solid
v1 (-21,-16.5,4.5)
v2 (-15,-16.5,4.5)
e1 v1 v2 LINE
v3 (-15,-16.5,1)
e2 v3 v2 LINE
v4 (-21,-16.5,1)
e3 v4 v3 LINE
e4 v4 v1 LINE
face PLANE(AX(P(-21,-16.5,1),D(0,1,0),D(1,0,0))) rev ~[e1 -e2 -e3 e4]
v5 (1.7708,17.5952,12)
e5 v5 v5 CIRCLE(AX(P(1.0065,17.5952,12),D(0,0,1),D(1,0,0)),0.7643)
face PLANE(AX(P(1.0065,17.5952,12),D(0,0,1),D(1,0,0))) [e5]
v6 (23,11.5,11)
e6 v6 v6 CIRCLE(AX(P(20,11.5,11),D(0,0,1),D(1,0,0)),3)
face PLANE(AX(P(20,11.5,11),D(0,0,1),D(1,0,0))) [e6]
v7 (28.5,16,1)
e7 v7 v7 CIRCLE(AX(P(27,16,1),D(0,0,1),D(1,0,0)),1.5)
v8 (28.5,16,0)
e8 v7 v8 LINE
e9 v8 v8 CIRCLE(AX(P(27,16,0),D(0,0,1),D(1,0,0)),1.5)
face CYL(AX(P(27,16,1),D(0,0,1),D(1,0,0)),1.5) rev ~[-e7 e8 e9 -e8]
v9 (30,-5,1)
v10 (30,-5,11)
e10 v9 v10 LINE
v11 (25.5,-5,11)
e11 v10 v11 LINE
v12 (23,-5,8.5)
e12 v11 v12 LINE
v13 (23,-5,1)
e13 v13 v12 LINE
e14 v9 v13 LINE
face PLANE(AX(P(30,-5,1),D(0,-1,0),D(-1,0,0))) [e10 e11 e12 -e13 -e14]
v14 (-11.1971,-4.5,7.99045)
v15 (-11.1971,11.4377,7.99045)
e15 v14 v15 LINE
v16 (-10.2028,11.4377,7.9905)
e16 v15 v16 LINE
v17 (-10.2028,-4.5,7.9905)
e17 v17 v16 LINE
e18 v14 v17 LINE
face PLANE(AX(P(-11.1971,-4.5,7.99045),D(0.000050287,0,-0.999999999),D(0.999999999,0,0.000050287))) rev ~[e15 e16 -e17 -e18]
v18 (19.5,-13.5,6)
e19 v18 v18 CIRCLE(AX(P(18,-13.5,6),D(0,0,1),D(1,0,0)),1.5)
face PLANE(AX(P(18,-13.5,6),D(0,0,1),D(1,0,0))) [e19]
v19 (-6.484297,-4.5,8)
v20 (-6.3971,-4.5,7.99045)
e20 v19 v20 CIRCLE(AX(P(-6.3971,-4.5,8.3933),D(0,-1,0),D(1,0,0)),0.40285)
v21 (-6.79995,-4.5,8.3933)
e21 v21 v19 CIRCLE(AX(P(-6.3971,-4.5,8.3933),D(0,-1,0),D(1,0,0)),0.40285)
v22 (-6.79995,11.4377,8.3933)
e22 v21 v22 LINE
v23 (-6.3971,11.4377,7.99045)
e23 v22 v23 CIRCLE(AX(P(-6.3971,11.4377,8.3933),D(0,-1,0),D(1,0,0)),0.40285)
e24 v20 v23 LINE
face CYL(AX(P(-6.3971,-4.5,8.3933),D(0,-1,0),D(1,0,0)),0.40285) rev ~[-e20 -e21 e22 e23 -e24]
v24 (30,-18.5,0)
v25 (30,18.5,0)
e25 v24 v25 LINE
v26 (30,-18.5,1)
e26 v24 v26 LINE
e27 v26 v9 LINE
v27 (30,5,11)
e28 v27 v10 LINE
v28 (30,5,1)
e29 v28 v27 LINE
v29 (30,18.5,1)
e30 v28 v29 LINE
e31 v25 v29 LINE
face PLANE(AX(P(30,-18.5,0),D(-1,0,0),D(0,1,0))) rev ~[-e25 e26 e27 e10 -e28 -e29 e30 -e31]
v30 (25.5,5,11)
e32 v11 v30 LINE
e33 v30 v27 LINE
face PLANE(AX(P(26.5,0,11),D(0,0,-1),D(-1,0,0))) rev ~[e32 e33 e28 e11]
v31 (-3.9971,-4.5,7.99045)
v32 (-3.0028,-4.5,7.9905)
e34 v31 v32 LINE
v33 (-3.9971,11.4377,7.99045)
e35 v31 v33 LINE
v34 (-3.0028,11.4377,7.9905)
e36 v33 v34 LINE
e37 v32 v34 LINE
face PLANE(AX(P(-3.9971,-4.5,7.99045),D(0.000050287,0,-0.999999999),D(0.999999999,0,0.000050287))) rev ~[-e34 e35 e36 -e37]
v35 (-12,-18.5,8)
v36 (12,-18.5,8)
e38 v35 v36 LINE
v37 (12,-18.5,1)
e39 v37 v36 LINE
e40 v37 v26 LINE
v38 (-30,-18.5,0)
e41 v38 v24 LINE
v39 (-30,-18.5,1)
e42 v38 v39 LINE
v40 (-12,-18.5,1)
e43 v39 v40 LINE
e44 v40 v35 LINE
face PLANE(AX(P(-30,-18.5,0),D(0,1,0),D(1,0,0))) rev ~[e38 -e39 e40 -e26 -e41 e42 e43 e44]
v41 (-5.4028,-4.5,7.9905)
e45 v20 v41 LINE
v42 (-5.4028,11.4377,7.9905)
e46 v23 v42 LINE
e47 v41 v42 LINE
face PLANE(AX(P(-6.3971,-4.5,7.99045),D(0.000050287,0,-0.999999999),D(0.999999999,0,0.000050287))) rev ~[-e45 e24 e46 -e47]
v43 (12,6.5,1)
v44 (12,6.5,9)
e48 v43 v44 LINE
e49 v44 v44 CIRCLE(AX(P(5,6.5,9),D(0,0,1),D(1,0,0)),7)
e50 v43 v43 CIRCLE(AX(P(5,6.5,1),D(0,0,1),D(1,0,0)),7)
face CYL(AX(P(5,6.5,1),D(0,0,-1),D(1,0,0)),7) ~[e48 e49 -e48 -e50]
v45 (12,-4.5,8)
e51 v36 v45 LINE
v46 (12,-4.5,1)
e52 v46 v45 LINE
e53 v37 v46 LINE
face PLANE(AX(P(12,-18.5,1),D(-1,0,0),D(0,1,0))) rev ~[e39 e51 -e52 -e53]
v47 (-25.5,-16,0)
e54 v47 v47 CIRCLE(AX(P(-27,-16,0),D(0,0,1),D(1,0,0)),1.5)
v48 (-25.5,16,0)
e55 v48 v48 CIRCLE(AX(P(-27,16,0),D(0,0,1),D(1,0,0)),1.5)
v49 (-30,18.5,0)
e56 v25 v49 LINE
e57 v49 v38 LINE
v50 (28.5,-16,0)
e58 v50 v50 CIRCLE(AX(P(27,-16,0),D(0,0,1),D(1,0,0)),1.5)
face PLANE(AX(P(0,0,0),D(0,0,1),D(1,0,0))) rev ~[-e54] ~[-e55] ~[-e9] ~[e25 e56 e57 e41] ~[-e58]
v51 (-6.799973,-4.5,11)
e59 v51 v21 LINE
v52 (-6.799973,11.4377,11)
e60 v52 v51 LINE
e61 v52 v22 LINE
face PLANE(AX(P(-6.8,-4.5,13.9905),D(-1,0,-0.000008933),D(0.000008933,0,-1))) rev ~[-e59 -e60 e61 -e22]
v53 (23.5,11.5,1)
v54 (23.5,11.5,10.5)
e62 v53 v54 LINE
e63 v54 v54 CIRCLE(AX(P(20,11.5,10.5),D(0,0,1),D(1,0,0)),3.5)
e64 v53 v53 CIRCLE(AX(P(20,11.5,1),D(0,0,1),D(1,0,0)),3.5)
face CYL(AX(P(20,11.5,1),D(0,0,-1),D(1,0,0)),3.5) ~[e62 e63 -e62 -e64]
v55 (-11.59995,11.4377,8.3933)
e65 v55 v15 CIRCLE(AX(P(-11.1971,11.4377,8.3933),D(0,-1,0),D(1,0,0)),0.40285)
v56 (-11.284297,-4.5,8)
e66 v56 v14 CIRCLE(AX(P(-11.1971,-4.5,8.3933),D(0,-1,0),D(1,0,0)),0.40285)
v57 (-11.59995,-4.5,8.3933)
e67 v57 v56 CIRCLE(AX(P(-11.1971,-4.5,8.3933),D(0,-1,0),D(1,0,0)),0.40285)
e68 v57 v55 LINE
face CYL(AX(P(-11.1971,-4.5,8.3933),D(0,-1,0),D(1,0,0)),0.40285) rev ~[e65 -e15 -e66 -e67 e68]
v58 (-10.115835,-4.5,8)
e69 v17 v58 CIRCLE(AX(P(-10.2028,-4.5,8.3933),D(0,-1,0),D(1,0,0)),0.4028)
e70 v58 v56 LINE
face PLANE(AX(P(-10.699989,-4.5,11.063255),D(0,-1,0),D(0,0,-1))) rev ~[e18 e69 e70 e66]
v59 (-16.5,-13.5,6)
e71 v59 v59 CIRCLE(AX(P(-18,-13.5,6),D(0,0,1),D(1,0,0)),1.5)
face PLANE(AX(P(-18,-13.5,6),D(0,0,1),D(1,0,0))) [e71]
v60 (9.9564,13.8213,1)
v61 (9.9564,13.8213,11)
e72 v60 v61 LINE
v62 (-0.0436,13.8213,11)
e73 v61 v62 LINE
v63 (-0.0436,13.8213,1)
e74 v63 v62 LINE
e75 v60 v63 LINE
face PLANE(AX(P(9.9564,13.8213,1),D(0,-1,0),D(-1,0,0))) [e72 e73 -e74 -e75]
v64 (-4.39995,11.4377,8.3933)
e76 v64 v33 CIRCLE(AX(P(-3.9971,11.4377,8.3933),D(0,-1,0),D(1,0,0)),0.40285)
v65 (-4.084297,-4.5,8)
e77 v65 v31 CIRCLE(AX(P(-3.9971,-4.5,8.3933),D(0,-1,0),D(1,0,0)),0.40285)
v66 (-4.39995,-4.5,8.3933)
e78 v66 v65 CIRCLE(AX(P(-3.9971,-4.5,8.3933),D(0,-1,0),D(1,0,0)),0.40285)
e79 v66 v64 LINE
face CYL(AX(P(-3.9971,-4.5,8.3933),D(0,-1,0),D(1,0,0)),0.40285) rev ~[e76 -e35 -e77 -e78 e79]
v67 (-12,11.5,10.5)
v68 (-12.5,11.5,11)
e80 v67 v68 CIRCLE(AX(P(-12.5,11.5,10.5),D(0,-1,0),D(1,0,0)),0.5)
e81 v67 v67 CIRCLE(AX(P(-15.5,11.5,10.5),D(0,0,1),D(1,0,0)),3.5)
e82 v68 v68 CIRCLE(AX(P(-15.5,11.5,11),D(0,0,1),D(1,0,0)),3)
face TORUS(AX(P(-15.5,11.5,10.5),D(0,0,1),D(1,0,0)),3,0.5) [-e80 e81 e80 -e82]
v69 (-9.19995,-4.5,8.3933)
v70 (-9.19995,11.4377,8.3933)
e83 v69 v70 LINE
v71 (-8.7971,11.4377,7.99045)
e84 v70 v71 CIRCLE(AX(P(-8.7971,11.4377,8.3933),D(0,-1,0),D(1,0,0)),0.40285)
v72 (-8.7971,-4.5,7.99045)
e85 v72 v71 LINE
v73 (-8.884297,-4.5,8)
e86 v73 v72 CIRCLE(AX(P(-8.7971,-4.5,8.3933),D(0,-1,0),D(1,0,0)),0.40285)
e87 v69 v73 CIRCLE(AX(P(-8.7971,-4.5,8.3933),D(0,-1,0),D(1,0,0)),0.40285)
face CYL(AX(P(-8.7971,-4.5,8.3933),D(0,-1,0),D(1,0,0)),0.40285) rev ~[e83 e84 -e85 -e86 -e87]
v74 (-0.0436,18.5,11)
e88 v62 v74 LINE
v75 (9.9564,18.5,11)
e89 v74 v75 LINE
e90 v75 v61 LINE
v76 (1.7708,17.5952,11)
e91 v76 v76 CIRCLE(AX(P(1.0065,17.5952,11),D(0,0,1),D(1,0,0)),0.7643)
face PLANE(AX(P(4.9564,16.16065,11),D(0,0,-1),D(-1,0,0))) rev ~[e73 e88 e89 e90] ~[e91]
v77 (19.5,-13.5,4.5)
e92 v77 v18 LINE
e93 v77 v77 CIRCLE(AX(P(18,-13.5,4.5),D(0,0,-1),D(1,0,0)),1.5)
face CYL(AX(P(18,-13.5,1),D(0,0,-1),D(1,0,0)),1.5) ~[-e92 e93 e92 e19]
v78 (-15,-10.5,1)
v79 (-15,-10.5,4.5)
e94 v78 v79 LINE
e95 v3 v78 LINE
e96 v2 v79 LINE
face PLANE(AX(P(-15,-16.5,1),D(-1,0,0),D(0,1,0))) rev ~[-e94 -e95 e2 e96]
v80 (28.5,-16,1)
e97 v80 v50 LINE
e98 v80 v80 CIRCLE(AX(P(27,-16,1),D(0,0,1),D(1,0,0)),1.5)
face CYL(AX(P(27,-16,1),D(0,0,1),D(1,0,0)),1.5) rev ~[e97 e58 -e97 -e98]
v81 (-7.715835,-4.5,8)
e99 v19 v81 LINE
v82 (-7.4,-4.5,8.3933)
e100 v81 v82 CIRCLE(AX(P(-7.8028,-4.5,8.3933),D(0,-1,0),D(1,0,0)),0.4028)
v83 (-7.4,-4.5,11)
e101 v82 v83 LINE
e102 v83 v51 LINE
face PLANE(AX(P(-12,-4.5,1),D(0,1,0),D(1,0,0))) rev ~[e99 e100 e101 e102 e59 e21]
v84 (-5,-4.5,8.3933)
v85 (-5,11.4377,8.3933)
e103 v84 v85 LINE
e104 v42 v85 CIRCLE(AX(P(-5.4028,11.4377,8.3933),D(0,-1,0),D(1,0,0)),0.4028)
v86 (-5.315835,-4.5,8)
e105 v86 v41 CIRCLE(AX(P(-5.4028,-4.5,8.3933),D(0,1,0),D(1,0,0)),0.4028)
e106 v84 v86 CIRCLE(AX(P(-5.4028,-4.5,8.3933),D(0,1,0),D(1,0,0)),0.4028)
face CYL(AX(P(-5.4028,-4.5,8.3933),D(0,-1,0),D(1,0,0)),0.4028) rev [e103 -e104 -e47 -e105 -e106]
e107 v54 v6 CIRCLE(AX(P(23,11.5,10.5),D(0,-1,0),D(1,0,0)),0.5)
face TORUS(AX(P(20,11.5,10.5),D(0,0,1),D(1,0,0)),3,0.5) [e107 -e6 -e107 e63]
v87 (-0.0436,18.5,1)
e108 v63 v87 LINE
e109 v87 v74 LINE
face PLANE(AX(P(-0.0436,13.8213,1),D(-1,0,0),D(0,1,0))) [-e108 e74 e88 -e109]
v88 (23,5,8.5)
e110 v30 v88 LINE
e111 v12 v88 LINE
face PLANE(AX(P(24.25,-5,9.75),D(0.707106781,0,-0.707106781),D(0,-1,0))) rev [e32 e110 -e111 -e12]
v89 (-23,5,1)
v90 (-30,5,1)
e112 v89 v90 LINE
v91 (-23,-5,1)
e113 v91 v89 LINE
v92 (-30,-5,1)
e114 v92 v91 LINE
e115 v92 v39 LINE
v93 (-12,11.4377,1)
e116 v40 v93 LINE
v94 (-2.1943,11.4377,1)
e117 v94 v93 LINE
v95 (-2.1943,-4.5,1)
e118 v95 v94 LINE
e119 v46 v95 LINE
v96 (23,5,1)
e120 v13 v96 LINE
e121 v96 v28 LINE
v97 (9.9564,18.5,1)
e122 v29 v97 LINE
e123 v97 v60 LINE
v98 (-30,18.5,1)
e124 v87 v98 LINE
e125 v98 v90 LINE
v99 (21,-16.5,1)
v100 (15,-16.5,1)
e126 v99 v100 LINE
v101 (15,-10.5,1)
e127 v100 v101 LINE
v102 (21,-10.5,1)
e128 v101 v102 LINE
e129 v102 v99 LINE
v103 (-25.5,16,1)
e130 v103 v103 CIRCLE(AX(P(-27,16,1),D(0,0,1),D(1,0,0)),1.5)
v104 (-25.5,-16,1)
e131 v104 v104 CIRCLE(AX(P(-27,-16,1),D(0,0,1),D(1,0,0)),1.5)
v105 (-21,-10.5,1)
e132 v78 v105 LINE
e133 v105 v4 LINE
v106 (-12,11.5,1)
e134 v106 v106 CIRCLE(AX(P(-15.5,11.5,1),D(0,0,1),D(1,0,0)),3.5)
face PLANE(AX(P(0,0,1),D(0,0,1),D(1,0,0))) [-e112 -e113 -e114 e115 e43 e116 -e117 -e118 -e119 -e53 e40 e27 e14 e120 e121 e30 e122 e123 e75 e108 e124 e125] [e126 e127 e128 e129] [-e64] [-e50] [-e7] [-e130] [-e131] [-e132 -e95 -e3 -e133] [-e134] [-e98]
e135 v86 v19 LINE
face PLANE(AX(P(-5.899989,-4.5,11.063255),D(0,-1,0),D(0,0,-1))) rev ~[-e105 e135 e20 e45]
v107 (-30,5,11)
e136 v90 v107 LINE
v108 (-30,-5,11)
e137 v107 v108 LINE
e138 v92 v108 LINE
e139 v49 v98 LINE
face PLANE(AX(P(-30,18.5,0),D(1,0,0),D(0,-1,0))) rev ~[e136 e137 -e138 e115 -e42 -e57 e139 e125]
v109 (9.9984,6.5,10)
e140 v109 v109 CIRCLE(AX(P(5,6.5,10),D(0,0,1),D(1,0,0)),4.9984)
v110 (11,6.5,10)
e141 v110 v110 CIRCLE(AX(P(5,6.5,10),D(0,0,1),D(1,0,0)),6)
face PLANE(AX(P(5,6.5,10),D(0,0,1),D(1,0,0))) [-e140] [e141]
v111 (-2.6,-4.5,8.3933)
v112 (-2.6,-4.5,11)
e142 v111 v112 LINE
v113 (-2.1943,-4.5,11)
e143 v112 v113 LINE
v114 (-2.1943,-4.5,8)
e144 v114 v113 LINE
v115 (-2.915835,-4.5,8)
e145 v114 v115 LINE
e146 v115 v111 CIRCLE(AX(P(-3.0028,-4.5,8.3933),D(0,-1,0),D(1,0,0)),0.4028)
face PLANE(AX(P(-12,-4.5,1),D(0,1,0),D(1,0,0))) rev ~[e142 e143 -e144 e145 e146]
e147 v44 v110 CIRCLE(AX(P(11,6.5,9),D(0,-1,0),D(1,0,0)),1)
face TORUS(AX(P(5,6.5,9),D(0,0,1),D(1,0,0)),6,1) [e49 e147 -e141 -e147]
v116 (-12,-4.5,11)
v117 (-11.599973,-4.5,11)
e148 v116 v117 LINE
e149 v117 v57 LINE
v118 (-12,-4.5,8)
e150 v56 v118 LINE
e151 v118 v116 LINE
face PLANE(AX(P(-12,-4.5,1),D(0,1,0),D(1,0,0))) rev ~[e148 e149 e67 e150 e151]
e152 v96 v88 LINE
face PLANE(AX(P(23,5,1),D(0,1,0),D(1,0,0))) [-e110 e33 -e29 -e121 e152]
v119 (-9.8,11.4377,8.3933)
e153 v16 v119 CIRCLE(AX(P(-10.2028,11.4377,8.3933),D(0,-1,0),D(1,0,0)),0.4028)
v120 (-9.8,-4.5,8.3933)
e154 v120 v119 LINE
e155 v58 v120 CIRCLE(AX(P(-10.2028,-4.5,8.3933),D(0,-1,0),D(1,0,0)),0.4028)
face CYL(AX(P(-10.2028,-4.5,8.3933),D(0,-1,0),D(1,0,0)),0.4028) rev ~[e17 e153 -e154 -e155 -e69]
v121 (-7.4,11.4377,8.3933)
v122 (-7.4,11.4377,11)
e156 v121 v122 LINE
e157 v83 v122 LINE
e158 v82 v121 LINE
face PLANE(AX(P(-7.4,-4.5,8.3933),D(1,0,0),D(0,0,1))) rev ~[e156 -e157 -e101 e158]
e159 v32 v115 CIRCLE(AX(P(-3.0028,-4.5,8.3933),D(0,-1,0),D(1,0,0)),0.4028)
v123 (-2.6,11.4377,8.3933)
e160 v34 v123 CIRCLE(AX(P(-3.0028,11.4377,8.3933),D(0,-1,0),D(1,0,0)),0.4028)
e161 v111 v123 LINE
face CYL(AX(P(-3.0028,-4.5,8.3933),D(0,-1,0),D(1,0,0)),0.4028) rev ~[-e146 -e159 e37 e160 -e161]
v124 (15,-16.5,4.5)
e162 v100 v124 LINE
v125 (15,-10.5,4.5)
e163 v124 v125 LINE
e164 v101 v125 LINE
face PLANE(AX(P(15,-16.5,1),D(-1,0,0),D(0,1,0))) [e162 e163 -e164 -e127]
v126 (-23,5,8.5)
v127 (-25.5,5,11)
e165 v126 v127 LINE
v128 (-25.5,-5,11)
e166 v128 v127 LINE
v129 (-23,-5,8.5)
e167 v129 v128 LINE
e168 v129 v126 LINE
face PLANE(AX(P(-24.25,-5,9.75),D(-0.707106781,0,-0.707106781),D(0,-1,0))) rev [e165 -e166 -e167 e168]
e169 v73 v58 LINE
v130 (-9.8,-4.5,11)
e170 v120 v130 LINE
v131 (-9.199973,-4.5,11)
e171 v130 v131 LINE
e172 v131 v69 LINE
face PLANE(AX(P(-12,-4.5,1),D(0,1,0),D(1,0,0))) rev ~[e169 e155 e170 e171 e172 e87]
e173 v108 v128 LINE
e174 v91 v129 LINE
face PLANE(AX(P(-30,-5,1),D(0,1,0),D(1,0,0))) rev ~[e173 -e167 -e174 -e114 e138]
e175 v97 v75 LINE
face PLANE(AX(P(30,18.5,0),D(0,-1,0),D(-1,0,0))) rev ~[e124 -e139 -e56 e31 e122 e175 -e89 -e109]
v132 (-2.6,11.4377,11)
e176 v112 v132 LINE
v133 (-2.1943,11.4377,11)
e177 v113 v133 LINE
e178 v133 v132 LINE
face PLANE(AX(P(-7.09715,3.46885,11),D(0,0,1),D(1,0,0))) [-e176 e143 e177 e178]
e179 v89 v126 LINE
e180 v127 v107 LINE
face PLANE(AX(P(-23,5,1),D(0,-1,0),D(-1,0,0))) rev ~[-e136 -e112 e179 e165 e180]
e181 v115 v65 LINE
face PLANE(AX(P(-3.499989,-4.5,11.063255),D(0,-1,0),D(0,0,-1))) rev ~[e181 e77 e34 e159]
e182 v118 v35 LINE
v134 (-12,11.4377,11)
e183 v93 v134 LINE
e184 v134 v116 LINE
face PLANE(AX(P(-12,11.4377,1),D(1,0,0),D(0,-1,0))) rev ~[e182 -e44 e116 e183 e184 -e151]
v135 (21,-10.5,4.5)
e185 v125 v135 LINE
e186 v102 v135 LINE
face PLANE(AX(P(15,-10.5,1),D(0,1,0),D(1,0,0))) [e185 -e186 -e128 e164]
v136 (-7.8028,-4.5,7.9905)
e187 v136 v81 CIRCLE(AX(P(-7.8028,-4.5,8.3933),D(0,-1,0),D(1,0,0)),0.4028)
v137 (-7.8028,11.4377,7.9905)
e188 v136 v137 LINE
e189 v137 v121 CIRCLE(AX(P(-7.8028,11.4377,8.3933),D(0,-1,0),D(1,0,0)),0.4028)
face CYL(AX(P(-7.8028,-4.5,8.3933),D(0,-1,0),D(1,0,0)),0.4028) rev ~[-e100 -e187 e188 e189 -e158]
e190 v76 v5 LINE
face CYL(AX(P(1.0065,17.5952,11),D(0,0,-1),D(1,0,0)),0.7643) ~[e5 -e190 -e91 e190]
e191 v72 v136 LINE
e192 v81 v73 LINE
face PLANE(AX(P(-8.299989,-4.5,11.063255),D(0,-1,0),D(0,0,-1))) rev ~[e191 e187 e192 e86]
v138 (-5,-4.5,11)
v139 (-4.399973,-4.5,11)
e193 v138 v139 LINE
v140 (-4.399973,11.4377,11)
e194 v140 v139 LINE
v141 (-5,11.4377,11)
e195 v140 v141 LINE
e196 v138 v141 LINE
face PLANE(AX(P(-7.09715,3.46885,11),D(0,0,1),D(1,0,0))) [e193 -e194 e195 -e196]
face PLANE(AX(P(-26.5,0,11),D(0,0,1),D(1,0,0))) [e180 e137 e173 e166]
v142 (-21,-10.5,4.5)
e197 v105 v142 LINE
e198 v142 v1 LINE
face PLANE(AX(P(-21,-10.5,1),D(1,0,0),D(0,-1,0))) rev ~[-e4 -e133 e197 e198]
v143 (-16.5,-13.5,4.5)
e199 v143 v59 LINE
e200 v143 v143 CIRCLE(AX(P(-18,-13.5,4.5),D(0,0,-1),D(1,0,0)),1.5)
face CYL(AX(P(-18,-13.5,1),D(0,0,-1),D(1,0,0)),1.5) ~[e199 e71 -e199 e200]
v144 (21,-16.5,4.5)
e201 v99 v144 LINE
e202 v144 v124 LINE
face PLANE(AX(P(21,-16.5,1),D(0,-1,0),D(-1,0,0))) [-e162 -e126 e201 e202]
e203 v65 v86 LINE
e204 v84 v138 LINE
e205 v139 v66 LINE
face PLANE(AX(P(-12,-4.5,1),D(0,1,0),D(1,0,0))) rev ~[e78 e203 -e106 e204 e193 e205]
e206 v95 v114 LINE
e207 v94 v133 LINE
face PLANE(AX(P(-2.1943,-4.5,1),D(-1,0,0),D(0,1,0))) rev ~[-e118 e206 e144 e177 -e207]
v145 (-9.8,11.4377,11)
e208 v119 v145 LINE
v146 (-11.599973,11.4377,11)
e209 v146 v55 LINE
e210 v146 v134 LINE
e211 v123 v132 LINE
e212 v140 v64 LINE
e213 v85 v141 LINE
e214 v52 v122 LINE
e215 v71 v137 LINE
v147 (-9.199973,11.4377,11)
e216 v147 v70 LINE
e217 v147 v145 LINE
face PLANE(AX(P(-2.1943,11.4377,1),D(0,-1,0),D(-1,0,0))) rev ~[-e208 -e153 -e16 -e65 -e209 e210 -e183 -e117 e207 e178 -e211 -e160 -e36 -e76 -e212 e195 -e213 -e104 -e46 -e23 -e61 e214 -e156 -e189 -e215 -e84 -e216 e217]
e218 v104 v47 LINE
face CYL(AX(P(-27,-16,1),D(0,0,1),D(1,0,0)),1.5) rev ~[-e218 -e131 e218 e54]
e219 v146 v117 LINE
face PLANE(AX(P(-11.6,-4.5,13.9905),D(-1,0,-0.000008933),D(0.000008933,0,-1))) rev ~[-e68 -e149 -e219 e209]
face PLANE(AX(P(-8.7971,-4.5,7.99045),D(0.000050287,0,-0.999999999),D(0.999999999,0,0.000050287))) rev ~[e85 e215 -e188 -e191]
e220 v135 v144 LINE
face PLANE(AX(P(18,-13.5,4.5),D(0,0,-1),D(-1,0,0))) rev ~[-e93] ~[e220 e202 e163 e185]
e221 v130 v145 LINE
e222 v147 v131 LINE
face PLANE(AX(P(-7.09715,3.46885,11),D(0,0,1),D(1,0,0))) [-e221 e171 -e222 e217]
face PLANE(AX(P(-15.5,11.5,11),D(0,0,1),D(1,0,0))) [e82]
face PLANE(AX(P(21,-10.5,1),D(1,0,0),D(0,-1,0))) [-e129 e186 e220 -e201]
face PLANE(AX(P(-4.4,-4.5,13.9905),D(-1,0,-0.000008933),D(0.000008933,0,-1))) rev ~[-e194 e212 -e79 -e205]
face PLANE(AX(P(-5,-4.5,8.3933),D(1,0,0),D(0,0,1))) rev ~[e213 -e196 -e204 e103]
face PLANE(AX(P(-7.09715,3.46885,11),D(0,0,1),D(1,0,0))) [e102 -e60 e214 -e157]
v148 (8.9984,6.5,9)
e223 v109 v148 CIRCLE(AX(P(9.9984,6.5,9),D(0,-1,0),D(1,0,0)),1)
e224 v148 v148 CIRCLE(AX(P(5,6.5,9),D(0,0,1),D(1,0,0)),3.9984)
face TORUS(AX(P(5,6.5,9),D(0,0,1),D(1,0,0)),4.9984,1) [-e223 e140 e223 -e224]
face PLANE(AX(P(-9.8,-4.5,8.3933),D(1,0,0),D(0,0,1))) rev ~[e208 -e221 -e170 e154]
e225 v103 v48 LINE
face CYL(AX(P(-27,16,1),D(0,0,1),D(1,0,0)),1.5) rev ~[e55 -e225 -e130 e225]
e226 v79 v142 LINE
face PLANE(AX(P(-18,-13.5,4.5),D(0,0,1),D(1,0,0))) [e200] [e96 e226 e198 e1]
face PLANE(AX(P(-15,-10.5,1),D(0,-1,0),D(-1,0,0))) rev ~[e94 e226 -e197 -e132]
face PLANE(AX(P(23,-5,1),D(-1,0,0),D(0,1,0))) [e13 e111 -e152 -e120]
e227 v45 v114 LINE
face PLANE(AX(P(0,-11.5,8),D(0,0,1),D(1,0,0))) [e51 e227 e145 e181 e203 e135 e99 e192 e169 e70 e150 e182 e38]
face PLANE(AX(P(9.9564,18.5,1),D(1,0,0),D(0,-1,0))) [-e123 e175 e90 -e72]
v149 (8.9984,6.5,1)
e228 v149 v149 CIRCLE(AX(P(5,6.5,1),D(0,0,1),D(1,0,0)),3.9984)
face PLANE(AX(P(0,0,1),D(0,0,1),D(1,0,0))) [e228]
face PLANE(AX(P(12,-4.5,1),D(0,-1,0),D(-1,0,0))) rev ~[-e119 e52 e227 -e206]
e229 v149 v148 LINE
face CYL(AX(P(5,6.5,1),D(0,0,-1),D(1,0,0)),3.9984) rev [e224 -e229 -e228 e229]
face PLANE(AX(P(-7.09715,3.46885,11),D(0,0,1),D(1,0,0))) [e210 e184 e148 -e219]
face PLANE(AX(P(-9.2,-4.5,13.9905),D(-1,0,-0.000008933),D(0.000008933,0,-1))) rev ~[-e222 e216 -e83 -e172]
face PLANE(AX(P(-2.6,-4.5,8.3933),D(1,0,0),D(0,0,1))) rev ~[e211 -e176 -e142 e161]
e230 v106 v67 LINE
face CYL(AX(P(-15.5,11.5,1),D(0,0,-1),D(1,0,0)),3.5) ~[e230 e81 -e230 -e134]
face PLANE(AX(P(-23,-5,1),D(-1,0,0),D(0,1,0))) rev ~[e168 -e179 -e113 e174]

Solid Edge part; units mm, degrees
sketch "Sketch1" plane through (0, 0, 0) normal (0, 0, 1) x (1, 0, 0)
  line L0 (30, 18.5) -> (-30, 18.5)
  line L1 (-30, 18.5) -> (-30, -18.5)
  line L2 (-30, -18.5) -> (30, -18.5)
  line L3 (30, -18.5) -> (30, 18.5)
extrude "Protrusion1" add sketch "Sketch1" along normal blind 1
sketch "Sketch2" plane through (0, 0, 1) normal (0, 0, 1) x (1, 0, 0)
  circle A0 centre (-27, 16) radius 1.5
  circle A1 centre (27, 16) radius 1.5
  circle A2 centre (27, -16) radius 1.5
  circle A3 centre (-27, -16) radius 1.5
extrude "Cutout1" cut sketch "Sketch2" against normal through all
sketch "Sketch3" plane through (0, 0, 1) normal (0, 0, 1) x (1, 0, 0)
  line L0 (-23, -5) -> (-23, 5)
  line L1 (-23, 5) -> (-30, 5)
  line L2 (-30, 5) -> (-30, -5)
  line L3 (-30, -5) -> (-23, -5)
  line L4 (30, -5) -> (23, -5)
  line L5 (23, -5) -> (23, 5)
  line L6 (23, 5) -> (30, 5)
  line L7 (30, 5) -> (30, -5)
  dimension "D1" = 14.5
  dimension "D2" = 7
  dimension "D3" = 10
  dimension "D4" = 25
  dimension "D5" = 12
  dimension "D6" = 7
  dimension "D7" = 7
  dimension "D8" = 24
  dimension "D9" = 14
  dimension "D10" = 18
  dimension "D11" = 2
  dimension "D12" = 6
  dimension "D13" = 6
  dimension "D14" = 9
extrude "ExtrudedProtrusion_2" add sketch "Sketch3" along normal blind 10
sketch "Sketch4" plane through (0, 0, 1) normal (0, 0, 1) x (1, 0, 0)
  line L0 (9.9564, 13.8213) -> (-0.0436, 13.8213)
  line L1 (-0.0436, 13.8213) -> (-0.0436, 18.5)
  line L2 (-0.0436, 18.5) -> (9.9564, 18.5)
  line L3 (9.9564, 18.5) -> (9.9564, 13.8213)
extrude "ExtrudedProtrusion_3" add sketch "Sketch4" along normal blind 10
sketch "Sketch5" plane through (0, 0, 1) normal (0, 0, 1) x (1, 0, 0)
  circle A0 centre (18, -13.5) radius 1.5
  circle A1 centre (-18, -13.5) radius 1.5
  dimension "D1" = 14.5
  dimension "D2" = 7
  dimension "D3" = 10
  dimension "D4" = 25
  dimension "D5" = 12
  dimension "D6" = 7
  dimension "D7" = 7
  dimension "D8" = 24
  dimension "D9" = 14
  dimension "D10" = 18
  dimension "D11" = 2
  dimension "D12" = 6
  dimension "D13" = 6
  dimension "D14" = 9
extrude "ExtrudedProtrusion_4" add sketch "Sketch5" along normal blind 5
sketch "Sketch6" plane through (0, 0, 1) normal (0, 0, 1) x (1, 0, 0)
  line L0 (21, -16.5) -> (15, -16.5)
  line L1 (15, -16.5) -> (15, -10.5)
  line L2 (15, -10.5) -> (21, -10.5)
  line L3 (21, -10.5) -> (21, -16.5)
  line L4 (-21, -16.5) -> (-15, -16.5)
  line L5 (-15, -16.5) -> (-15, -10.5)
  line L6 (-15, -10.5) -> (-21, -10.5)
  line L7 (-21, -10.5) -> (-21, -16.5)
  dimension "D1" = 14.5
  dimension "D2" = 7
  dimension "D3" = 10
  dimension "D4" = 25
  dimension "D5" = 12
  dimension "D6" = 7
  dimension "D7" = 7
  dimension "D8" = 24
  dimension "D9" = 14
  dimension "D10" = 18
  dimension "D11" = 2
  dimension "D12" = 6
  dimension "D13" = 6
  dimension "D14" = 9
extrude "ExtrudedProtrusion_5" add sketch "Sketch6" along normal blind 3.5
sketch "Sketch7" plane through (0, 0, 1) normal (0, 0, 1) x (1, 0, 0)
  circle A0 centre (20, 11.5) radius 3.5
  circle A1 centre (-15.5, 11.5) radius 3.5
  dimension "D1" = 14.5
  dimension "D2" = 7
  dimension "D3" = 10
  dimension "D4" = 25
  dimension "D5" = 12
  dimension "D6" = 7
  dimension "D7" = 7
  dimension "D8" = 24
  dimension "D9" = 14
  dimension "D10" = 18
  dimension "D11" = 2
  dimension "D12" = 6
  dimension "D13" = 6
  dimension "D14" = 9
extrude "ExtrudedProtrusion_6" add sketch "Sketch7" along normal blind 10
sketch "Sketch8" plane through (0, 0, 1) normal (0, 0, 1) x (1, 0, 0)
  line L0 (12, -4.5) -> (-12, -4.5)
  line L1 (-12, -4.5) -> (-12, -18.5)
  line L2 (-12, -18.5) -> (12, -18.5)
  line L3 (12, -18.5) -> (12, -4.5)
extrude "ExtrudedProtrusion_7" add sketch "Sketch8" along normal blind 7
sketch "Sketch9" plane through (0, 0, 1) normal (0, 0, 1) x (1, 0, 0)
  line L0 (-2.1943, 11.4377) -> (-12, 11.4377)
  line L1 (-12, 11.4377) -> (-12, -4.5)
  line L2 (-12, -4.5) -> (-2.1943, -4.5)
  line L3 (-2.1943, -4.5) -> (-2.1943, 11.4377)
extrude "ExtrudedProtrusion_8" add sketch "Sketch9" along normal blind 10
sketch "Sketch10" plane through (0, 0, 1) normal (0, 0, 1) x (1, 0, 0)
  circle A0 centre (5, 6.5) radius 7
  circle A1 centre (5, 6.5) radius 3.9984
  dimension "D1" = 14.5
  dimension "D2" = 7
  dimension "D3" = 10
  dimension "D4" = 25
  dimension "D5" = 12
  dimension "D6" = 7
  dimension "D7" = 7
  dimension "D8" = 24
  dimension "D9" = 14
  dimension "D10" = 18
  dimension "D11" = 2
  dimension "D12" = 6
  dimension "D13" = 6
  dimension "D14" = 9
extrude "ExtrudedProtrusion_10" add sketch "Sketch10" along normal blind 9
sketch "Sketch11" plane through (4.9564, 16.1606, 11) normal (0, 0, 1) x (1, 0, 0)
  circle A0 centre (-3.9499, 1.4346) radius 0.7643
extrude "ExtrudedProtrusion_11" add sketch "Sketch11" along normal blind 1
chamfer "Chamfer_1" distance 2.5 angle 45 2 edges at (-23, 0, 11) (23, 0, 11)
fillet "Round_1" radius 0.5 2 edges at (16.5, 11.5, 11) (-19, 11.5, 11)
fillet "Round_2" radius 1 2 edges at (-2, 6.5, 10) (1.0016, 6.5, 10)
sketch "Sketch12" plane through (-7.0971, -4.5, 9.5) normal (0, -1, 0) x (1, 0, 0)
  line L0 (2.6971, 4.4905) -> (2.6971, -1.1067)
  arc A0 (2.6971, -1.1067) -> (3.1, -1.5095) centre (3.1, -1.1067) ccw
  line L1 (3.1, -1.5095) -> (4.0943, -1.5095)
  arc A1 (4.0943, -1.5095) -> (4.4971, -1.1067) centre (4.0943, -1.1067) ccw
  line L2 (4.4971, -1.1067) -> (4.4971, 4.4905)
  line L3 (4.4971, 4.4905) -> (2.6971, 4.4905)
  line L4 (2.0971, -1.1067) -> (2.0971, 4.4905)
  line L5 (2.0971, 4.4905) -> (0.2971, 4.4905)
  line L6 (0.2971, 4.4905) -> (0.2971, -1.1067)
  arc A2 (0.2971, -1.1067) -> (0.7, -1.5095) centre (0.7, -1.1067) ccw
  line L7 (0.7, -1.5095) -> (1.6943, -1.5095)
  arc A3 (2.0971, -1.1067) -> (1.6943, -1.5095) centre (1.6943, -1.1067) cw
  line L8 (-0.3029, -1.1067) -> (-0.3029, 4.4905)
  line L9 (-0.3029, 4.4905) -> (-2.1029, 4.4905)
  line L10 (-2.1029, 4.4905) -> (-2.1029, -1.1067)
  arc A4 (-2.1029, -1.1067) -> (-1.7, -1.5095) centre (-1.7, -1.1067) ccw
  line L11 (-1.7, -1.5095) -> (-0.7057, -1.5095)
  arc A5 (-0.7057, -1.5095) -> (-0.3029, -1.1067) centre (-0.7057, -1.1067) ccw
  line L12 (-2.7029, -1.1067) -> (-2.7029, 4.4905)
  line L13 (-2.7029, 4.4905) -> (-4.5029, 4.4905)
  line L14 (-4.5029, 4.4905) -> (-4.5029, -1.1067)
  arc A6 (-4.5029, -1.1067) -> (-4.1, -1.5095) centre (-4.1, -1.1067) ccw
  line L15 (-4.1, -1.5095) -> (-3.1057, -1.5095)
  arc A7 (-3.1057, -1.5095) -> (-2.7029, -1.1067) centre (-3.1057, -1.1067) ccw
  dimension "D1" = 1.8
  dimension "D2" = 1.8
  dimension "D3" = 1.8
  dimension "D4" = 1.8
  dimension "D5" = 0.6
  dimension "D6" = 0.6
  dimension "D7" = 0.6
  dimension "D8" = 0.4
extrude "Cutout2" cut sketch "Sketch12" against normal through all
